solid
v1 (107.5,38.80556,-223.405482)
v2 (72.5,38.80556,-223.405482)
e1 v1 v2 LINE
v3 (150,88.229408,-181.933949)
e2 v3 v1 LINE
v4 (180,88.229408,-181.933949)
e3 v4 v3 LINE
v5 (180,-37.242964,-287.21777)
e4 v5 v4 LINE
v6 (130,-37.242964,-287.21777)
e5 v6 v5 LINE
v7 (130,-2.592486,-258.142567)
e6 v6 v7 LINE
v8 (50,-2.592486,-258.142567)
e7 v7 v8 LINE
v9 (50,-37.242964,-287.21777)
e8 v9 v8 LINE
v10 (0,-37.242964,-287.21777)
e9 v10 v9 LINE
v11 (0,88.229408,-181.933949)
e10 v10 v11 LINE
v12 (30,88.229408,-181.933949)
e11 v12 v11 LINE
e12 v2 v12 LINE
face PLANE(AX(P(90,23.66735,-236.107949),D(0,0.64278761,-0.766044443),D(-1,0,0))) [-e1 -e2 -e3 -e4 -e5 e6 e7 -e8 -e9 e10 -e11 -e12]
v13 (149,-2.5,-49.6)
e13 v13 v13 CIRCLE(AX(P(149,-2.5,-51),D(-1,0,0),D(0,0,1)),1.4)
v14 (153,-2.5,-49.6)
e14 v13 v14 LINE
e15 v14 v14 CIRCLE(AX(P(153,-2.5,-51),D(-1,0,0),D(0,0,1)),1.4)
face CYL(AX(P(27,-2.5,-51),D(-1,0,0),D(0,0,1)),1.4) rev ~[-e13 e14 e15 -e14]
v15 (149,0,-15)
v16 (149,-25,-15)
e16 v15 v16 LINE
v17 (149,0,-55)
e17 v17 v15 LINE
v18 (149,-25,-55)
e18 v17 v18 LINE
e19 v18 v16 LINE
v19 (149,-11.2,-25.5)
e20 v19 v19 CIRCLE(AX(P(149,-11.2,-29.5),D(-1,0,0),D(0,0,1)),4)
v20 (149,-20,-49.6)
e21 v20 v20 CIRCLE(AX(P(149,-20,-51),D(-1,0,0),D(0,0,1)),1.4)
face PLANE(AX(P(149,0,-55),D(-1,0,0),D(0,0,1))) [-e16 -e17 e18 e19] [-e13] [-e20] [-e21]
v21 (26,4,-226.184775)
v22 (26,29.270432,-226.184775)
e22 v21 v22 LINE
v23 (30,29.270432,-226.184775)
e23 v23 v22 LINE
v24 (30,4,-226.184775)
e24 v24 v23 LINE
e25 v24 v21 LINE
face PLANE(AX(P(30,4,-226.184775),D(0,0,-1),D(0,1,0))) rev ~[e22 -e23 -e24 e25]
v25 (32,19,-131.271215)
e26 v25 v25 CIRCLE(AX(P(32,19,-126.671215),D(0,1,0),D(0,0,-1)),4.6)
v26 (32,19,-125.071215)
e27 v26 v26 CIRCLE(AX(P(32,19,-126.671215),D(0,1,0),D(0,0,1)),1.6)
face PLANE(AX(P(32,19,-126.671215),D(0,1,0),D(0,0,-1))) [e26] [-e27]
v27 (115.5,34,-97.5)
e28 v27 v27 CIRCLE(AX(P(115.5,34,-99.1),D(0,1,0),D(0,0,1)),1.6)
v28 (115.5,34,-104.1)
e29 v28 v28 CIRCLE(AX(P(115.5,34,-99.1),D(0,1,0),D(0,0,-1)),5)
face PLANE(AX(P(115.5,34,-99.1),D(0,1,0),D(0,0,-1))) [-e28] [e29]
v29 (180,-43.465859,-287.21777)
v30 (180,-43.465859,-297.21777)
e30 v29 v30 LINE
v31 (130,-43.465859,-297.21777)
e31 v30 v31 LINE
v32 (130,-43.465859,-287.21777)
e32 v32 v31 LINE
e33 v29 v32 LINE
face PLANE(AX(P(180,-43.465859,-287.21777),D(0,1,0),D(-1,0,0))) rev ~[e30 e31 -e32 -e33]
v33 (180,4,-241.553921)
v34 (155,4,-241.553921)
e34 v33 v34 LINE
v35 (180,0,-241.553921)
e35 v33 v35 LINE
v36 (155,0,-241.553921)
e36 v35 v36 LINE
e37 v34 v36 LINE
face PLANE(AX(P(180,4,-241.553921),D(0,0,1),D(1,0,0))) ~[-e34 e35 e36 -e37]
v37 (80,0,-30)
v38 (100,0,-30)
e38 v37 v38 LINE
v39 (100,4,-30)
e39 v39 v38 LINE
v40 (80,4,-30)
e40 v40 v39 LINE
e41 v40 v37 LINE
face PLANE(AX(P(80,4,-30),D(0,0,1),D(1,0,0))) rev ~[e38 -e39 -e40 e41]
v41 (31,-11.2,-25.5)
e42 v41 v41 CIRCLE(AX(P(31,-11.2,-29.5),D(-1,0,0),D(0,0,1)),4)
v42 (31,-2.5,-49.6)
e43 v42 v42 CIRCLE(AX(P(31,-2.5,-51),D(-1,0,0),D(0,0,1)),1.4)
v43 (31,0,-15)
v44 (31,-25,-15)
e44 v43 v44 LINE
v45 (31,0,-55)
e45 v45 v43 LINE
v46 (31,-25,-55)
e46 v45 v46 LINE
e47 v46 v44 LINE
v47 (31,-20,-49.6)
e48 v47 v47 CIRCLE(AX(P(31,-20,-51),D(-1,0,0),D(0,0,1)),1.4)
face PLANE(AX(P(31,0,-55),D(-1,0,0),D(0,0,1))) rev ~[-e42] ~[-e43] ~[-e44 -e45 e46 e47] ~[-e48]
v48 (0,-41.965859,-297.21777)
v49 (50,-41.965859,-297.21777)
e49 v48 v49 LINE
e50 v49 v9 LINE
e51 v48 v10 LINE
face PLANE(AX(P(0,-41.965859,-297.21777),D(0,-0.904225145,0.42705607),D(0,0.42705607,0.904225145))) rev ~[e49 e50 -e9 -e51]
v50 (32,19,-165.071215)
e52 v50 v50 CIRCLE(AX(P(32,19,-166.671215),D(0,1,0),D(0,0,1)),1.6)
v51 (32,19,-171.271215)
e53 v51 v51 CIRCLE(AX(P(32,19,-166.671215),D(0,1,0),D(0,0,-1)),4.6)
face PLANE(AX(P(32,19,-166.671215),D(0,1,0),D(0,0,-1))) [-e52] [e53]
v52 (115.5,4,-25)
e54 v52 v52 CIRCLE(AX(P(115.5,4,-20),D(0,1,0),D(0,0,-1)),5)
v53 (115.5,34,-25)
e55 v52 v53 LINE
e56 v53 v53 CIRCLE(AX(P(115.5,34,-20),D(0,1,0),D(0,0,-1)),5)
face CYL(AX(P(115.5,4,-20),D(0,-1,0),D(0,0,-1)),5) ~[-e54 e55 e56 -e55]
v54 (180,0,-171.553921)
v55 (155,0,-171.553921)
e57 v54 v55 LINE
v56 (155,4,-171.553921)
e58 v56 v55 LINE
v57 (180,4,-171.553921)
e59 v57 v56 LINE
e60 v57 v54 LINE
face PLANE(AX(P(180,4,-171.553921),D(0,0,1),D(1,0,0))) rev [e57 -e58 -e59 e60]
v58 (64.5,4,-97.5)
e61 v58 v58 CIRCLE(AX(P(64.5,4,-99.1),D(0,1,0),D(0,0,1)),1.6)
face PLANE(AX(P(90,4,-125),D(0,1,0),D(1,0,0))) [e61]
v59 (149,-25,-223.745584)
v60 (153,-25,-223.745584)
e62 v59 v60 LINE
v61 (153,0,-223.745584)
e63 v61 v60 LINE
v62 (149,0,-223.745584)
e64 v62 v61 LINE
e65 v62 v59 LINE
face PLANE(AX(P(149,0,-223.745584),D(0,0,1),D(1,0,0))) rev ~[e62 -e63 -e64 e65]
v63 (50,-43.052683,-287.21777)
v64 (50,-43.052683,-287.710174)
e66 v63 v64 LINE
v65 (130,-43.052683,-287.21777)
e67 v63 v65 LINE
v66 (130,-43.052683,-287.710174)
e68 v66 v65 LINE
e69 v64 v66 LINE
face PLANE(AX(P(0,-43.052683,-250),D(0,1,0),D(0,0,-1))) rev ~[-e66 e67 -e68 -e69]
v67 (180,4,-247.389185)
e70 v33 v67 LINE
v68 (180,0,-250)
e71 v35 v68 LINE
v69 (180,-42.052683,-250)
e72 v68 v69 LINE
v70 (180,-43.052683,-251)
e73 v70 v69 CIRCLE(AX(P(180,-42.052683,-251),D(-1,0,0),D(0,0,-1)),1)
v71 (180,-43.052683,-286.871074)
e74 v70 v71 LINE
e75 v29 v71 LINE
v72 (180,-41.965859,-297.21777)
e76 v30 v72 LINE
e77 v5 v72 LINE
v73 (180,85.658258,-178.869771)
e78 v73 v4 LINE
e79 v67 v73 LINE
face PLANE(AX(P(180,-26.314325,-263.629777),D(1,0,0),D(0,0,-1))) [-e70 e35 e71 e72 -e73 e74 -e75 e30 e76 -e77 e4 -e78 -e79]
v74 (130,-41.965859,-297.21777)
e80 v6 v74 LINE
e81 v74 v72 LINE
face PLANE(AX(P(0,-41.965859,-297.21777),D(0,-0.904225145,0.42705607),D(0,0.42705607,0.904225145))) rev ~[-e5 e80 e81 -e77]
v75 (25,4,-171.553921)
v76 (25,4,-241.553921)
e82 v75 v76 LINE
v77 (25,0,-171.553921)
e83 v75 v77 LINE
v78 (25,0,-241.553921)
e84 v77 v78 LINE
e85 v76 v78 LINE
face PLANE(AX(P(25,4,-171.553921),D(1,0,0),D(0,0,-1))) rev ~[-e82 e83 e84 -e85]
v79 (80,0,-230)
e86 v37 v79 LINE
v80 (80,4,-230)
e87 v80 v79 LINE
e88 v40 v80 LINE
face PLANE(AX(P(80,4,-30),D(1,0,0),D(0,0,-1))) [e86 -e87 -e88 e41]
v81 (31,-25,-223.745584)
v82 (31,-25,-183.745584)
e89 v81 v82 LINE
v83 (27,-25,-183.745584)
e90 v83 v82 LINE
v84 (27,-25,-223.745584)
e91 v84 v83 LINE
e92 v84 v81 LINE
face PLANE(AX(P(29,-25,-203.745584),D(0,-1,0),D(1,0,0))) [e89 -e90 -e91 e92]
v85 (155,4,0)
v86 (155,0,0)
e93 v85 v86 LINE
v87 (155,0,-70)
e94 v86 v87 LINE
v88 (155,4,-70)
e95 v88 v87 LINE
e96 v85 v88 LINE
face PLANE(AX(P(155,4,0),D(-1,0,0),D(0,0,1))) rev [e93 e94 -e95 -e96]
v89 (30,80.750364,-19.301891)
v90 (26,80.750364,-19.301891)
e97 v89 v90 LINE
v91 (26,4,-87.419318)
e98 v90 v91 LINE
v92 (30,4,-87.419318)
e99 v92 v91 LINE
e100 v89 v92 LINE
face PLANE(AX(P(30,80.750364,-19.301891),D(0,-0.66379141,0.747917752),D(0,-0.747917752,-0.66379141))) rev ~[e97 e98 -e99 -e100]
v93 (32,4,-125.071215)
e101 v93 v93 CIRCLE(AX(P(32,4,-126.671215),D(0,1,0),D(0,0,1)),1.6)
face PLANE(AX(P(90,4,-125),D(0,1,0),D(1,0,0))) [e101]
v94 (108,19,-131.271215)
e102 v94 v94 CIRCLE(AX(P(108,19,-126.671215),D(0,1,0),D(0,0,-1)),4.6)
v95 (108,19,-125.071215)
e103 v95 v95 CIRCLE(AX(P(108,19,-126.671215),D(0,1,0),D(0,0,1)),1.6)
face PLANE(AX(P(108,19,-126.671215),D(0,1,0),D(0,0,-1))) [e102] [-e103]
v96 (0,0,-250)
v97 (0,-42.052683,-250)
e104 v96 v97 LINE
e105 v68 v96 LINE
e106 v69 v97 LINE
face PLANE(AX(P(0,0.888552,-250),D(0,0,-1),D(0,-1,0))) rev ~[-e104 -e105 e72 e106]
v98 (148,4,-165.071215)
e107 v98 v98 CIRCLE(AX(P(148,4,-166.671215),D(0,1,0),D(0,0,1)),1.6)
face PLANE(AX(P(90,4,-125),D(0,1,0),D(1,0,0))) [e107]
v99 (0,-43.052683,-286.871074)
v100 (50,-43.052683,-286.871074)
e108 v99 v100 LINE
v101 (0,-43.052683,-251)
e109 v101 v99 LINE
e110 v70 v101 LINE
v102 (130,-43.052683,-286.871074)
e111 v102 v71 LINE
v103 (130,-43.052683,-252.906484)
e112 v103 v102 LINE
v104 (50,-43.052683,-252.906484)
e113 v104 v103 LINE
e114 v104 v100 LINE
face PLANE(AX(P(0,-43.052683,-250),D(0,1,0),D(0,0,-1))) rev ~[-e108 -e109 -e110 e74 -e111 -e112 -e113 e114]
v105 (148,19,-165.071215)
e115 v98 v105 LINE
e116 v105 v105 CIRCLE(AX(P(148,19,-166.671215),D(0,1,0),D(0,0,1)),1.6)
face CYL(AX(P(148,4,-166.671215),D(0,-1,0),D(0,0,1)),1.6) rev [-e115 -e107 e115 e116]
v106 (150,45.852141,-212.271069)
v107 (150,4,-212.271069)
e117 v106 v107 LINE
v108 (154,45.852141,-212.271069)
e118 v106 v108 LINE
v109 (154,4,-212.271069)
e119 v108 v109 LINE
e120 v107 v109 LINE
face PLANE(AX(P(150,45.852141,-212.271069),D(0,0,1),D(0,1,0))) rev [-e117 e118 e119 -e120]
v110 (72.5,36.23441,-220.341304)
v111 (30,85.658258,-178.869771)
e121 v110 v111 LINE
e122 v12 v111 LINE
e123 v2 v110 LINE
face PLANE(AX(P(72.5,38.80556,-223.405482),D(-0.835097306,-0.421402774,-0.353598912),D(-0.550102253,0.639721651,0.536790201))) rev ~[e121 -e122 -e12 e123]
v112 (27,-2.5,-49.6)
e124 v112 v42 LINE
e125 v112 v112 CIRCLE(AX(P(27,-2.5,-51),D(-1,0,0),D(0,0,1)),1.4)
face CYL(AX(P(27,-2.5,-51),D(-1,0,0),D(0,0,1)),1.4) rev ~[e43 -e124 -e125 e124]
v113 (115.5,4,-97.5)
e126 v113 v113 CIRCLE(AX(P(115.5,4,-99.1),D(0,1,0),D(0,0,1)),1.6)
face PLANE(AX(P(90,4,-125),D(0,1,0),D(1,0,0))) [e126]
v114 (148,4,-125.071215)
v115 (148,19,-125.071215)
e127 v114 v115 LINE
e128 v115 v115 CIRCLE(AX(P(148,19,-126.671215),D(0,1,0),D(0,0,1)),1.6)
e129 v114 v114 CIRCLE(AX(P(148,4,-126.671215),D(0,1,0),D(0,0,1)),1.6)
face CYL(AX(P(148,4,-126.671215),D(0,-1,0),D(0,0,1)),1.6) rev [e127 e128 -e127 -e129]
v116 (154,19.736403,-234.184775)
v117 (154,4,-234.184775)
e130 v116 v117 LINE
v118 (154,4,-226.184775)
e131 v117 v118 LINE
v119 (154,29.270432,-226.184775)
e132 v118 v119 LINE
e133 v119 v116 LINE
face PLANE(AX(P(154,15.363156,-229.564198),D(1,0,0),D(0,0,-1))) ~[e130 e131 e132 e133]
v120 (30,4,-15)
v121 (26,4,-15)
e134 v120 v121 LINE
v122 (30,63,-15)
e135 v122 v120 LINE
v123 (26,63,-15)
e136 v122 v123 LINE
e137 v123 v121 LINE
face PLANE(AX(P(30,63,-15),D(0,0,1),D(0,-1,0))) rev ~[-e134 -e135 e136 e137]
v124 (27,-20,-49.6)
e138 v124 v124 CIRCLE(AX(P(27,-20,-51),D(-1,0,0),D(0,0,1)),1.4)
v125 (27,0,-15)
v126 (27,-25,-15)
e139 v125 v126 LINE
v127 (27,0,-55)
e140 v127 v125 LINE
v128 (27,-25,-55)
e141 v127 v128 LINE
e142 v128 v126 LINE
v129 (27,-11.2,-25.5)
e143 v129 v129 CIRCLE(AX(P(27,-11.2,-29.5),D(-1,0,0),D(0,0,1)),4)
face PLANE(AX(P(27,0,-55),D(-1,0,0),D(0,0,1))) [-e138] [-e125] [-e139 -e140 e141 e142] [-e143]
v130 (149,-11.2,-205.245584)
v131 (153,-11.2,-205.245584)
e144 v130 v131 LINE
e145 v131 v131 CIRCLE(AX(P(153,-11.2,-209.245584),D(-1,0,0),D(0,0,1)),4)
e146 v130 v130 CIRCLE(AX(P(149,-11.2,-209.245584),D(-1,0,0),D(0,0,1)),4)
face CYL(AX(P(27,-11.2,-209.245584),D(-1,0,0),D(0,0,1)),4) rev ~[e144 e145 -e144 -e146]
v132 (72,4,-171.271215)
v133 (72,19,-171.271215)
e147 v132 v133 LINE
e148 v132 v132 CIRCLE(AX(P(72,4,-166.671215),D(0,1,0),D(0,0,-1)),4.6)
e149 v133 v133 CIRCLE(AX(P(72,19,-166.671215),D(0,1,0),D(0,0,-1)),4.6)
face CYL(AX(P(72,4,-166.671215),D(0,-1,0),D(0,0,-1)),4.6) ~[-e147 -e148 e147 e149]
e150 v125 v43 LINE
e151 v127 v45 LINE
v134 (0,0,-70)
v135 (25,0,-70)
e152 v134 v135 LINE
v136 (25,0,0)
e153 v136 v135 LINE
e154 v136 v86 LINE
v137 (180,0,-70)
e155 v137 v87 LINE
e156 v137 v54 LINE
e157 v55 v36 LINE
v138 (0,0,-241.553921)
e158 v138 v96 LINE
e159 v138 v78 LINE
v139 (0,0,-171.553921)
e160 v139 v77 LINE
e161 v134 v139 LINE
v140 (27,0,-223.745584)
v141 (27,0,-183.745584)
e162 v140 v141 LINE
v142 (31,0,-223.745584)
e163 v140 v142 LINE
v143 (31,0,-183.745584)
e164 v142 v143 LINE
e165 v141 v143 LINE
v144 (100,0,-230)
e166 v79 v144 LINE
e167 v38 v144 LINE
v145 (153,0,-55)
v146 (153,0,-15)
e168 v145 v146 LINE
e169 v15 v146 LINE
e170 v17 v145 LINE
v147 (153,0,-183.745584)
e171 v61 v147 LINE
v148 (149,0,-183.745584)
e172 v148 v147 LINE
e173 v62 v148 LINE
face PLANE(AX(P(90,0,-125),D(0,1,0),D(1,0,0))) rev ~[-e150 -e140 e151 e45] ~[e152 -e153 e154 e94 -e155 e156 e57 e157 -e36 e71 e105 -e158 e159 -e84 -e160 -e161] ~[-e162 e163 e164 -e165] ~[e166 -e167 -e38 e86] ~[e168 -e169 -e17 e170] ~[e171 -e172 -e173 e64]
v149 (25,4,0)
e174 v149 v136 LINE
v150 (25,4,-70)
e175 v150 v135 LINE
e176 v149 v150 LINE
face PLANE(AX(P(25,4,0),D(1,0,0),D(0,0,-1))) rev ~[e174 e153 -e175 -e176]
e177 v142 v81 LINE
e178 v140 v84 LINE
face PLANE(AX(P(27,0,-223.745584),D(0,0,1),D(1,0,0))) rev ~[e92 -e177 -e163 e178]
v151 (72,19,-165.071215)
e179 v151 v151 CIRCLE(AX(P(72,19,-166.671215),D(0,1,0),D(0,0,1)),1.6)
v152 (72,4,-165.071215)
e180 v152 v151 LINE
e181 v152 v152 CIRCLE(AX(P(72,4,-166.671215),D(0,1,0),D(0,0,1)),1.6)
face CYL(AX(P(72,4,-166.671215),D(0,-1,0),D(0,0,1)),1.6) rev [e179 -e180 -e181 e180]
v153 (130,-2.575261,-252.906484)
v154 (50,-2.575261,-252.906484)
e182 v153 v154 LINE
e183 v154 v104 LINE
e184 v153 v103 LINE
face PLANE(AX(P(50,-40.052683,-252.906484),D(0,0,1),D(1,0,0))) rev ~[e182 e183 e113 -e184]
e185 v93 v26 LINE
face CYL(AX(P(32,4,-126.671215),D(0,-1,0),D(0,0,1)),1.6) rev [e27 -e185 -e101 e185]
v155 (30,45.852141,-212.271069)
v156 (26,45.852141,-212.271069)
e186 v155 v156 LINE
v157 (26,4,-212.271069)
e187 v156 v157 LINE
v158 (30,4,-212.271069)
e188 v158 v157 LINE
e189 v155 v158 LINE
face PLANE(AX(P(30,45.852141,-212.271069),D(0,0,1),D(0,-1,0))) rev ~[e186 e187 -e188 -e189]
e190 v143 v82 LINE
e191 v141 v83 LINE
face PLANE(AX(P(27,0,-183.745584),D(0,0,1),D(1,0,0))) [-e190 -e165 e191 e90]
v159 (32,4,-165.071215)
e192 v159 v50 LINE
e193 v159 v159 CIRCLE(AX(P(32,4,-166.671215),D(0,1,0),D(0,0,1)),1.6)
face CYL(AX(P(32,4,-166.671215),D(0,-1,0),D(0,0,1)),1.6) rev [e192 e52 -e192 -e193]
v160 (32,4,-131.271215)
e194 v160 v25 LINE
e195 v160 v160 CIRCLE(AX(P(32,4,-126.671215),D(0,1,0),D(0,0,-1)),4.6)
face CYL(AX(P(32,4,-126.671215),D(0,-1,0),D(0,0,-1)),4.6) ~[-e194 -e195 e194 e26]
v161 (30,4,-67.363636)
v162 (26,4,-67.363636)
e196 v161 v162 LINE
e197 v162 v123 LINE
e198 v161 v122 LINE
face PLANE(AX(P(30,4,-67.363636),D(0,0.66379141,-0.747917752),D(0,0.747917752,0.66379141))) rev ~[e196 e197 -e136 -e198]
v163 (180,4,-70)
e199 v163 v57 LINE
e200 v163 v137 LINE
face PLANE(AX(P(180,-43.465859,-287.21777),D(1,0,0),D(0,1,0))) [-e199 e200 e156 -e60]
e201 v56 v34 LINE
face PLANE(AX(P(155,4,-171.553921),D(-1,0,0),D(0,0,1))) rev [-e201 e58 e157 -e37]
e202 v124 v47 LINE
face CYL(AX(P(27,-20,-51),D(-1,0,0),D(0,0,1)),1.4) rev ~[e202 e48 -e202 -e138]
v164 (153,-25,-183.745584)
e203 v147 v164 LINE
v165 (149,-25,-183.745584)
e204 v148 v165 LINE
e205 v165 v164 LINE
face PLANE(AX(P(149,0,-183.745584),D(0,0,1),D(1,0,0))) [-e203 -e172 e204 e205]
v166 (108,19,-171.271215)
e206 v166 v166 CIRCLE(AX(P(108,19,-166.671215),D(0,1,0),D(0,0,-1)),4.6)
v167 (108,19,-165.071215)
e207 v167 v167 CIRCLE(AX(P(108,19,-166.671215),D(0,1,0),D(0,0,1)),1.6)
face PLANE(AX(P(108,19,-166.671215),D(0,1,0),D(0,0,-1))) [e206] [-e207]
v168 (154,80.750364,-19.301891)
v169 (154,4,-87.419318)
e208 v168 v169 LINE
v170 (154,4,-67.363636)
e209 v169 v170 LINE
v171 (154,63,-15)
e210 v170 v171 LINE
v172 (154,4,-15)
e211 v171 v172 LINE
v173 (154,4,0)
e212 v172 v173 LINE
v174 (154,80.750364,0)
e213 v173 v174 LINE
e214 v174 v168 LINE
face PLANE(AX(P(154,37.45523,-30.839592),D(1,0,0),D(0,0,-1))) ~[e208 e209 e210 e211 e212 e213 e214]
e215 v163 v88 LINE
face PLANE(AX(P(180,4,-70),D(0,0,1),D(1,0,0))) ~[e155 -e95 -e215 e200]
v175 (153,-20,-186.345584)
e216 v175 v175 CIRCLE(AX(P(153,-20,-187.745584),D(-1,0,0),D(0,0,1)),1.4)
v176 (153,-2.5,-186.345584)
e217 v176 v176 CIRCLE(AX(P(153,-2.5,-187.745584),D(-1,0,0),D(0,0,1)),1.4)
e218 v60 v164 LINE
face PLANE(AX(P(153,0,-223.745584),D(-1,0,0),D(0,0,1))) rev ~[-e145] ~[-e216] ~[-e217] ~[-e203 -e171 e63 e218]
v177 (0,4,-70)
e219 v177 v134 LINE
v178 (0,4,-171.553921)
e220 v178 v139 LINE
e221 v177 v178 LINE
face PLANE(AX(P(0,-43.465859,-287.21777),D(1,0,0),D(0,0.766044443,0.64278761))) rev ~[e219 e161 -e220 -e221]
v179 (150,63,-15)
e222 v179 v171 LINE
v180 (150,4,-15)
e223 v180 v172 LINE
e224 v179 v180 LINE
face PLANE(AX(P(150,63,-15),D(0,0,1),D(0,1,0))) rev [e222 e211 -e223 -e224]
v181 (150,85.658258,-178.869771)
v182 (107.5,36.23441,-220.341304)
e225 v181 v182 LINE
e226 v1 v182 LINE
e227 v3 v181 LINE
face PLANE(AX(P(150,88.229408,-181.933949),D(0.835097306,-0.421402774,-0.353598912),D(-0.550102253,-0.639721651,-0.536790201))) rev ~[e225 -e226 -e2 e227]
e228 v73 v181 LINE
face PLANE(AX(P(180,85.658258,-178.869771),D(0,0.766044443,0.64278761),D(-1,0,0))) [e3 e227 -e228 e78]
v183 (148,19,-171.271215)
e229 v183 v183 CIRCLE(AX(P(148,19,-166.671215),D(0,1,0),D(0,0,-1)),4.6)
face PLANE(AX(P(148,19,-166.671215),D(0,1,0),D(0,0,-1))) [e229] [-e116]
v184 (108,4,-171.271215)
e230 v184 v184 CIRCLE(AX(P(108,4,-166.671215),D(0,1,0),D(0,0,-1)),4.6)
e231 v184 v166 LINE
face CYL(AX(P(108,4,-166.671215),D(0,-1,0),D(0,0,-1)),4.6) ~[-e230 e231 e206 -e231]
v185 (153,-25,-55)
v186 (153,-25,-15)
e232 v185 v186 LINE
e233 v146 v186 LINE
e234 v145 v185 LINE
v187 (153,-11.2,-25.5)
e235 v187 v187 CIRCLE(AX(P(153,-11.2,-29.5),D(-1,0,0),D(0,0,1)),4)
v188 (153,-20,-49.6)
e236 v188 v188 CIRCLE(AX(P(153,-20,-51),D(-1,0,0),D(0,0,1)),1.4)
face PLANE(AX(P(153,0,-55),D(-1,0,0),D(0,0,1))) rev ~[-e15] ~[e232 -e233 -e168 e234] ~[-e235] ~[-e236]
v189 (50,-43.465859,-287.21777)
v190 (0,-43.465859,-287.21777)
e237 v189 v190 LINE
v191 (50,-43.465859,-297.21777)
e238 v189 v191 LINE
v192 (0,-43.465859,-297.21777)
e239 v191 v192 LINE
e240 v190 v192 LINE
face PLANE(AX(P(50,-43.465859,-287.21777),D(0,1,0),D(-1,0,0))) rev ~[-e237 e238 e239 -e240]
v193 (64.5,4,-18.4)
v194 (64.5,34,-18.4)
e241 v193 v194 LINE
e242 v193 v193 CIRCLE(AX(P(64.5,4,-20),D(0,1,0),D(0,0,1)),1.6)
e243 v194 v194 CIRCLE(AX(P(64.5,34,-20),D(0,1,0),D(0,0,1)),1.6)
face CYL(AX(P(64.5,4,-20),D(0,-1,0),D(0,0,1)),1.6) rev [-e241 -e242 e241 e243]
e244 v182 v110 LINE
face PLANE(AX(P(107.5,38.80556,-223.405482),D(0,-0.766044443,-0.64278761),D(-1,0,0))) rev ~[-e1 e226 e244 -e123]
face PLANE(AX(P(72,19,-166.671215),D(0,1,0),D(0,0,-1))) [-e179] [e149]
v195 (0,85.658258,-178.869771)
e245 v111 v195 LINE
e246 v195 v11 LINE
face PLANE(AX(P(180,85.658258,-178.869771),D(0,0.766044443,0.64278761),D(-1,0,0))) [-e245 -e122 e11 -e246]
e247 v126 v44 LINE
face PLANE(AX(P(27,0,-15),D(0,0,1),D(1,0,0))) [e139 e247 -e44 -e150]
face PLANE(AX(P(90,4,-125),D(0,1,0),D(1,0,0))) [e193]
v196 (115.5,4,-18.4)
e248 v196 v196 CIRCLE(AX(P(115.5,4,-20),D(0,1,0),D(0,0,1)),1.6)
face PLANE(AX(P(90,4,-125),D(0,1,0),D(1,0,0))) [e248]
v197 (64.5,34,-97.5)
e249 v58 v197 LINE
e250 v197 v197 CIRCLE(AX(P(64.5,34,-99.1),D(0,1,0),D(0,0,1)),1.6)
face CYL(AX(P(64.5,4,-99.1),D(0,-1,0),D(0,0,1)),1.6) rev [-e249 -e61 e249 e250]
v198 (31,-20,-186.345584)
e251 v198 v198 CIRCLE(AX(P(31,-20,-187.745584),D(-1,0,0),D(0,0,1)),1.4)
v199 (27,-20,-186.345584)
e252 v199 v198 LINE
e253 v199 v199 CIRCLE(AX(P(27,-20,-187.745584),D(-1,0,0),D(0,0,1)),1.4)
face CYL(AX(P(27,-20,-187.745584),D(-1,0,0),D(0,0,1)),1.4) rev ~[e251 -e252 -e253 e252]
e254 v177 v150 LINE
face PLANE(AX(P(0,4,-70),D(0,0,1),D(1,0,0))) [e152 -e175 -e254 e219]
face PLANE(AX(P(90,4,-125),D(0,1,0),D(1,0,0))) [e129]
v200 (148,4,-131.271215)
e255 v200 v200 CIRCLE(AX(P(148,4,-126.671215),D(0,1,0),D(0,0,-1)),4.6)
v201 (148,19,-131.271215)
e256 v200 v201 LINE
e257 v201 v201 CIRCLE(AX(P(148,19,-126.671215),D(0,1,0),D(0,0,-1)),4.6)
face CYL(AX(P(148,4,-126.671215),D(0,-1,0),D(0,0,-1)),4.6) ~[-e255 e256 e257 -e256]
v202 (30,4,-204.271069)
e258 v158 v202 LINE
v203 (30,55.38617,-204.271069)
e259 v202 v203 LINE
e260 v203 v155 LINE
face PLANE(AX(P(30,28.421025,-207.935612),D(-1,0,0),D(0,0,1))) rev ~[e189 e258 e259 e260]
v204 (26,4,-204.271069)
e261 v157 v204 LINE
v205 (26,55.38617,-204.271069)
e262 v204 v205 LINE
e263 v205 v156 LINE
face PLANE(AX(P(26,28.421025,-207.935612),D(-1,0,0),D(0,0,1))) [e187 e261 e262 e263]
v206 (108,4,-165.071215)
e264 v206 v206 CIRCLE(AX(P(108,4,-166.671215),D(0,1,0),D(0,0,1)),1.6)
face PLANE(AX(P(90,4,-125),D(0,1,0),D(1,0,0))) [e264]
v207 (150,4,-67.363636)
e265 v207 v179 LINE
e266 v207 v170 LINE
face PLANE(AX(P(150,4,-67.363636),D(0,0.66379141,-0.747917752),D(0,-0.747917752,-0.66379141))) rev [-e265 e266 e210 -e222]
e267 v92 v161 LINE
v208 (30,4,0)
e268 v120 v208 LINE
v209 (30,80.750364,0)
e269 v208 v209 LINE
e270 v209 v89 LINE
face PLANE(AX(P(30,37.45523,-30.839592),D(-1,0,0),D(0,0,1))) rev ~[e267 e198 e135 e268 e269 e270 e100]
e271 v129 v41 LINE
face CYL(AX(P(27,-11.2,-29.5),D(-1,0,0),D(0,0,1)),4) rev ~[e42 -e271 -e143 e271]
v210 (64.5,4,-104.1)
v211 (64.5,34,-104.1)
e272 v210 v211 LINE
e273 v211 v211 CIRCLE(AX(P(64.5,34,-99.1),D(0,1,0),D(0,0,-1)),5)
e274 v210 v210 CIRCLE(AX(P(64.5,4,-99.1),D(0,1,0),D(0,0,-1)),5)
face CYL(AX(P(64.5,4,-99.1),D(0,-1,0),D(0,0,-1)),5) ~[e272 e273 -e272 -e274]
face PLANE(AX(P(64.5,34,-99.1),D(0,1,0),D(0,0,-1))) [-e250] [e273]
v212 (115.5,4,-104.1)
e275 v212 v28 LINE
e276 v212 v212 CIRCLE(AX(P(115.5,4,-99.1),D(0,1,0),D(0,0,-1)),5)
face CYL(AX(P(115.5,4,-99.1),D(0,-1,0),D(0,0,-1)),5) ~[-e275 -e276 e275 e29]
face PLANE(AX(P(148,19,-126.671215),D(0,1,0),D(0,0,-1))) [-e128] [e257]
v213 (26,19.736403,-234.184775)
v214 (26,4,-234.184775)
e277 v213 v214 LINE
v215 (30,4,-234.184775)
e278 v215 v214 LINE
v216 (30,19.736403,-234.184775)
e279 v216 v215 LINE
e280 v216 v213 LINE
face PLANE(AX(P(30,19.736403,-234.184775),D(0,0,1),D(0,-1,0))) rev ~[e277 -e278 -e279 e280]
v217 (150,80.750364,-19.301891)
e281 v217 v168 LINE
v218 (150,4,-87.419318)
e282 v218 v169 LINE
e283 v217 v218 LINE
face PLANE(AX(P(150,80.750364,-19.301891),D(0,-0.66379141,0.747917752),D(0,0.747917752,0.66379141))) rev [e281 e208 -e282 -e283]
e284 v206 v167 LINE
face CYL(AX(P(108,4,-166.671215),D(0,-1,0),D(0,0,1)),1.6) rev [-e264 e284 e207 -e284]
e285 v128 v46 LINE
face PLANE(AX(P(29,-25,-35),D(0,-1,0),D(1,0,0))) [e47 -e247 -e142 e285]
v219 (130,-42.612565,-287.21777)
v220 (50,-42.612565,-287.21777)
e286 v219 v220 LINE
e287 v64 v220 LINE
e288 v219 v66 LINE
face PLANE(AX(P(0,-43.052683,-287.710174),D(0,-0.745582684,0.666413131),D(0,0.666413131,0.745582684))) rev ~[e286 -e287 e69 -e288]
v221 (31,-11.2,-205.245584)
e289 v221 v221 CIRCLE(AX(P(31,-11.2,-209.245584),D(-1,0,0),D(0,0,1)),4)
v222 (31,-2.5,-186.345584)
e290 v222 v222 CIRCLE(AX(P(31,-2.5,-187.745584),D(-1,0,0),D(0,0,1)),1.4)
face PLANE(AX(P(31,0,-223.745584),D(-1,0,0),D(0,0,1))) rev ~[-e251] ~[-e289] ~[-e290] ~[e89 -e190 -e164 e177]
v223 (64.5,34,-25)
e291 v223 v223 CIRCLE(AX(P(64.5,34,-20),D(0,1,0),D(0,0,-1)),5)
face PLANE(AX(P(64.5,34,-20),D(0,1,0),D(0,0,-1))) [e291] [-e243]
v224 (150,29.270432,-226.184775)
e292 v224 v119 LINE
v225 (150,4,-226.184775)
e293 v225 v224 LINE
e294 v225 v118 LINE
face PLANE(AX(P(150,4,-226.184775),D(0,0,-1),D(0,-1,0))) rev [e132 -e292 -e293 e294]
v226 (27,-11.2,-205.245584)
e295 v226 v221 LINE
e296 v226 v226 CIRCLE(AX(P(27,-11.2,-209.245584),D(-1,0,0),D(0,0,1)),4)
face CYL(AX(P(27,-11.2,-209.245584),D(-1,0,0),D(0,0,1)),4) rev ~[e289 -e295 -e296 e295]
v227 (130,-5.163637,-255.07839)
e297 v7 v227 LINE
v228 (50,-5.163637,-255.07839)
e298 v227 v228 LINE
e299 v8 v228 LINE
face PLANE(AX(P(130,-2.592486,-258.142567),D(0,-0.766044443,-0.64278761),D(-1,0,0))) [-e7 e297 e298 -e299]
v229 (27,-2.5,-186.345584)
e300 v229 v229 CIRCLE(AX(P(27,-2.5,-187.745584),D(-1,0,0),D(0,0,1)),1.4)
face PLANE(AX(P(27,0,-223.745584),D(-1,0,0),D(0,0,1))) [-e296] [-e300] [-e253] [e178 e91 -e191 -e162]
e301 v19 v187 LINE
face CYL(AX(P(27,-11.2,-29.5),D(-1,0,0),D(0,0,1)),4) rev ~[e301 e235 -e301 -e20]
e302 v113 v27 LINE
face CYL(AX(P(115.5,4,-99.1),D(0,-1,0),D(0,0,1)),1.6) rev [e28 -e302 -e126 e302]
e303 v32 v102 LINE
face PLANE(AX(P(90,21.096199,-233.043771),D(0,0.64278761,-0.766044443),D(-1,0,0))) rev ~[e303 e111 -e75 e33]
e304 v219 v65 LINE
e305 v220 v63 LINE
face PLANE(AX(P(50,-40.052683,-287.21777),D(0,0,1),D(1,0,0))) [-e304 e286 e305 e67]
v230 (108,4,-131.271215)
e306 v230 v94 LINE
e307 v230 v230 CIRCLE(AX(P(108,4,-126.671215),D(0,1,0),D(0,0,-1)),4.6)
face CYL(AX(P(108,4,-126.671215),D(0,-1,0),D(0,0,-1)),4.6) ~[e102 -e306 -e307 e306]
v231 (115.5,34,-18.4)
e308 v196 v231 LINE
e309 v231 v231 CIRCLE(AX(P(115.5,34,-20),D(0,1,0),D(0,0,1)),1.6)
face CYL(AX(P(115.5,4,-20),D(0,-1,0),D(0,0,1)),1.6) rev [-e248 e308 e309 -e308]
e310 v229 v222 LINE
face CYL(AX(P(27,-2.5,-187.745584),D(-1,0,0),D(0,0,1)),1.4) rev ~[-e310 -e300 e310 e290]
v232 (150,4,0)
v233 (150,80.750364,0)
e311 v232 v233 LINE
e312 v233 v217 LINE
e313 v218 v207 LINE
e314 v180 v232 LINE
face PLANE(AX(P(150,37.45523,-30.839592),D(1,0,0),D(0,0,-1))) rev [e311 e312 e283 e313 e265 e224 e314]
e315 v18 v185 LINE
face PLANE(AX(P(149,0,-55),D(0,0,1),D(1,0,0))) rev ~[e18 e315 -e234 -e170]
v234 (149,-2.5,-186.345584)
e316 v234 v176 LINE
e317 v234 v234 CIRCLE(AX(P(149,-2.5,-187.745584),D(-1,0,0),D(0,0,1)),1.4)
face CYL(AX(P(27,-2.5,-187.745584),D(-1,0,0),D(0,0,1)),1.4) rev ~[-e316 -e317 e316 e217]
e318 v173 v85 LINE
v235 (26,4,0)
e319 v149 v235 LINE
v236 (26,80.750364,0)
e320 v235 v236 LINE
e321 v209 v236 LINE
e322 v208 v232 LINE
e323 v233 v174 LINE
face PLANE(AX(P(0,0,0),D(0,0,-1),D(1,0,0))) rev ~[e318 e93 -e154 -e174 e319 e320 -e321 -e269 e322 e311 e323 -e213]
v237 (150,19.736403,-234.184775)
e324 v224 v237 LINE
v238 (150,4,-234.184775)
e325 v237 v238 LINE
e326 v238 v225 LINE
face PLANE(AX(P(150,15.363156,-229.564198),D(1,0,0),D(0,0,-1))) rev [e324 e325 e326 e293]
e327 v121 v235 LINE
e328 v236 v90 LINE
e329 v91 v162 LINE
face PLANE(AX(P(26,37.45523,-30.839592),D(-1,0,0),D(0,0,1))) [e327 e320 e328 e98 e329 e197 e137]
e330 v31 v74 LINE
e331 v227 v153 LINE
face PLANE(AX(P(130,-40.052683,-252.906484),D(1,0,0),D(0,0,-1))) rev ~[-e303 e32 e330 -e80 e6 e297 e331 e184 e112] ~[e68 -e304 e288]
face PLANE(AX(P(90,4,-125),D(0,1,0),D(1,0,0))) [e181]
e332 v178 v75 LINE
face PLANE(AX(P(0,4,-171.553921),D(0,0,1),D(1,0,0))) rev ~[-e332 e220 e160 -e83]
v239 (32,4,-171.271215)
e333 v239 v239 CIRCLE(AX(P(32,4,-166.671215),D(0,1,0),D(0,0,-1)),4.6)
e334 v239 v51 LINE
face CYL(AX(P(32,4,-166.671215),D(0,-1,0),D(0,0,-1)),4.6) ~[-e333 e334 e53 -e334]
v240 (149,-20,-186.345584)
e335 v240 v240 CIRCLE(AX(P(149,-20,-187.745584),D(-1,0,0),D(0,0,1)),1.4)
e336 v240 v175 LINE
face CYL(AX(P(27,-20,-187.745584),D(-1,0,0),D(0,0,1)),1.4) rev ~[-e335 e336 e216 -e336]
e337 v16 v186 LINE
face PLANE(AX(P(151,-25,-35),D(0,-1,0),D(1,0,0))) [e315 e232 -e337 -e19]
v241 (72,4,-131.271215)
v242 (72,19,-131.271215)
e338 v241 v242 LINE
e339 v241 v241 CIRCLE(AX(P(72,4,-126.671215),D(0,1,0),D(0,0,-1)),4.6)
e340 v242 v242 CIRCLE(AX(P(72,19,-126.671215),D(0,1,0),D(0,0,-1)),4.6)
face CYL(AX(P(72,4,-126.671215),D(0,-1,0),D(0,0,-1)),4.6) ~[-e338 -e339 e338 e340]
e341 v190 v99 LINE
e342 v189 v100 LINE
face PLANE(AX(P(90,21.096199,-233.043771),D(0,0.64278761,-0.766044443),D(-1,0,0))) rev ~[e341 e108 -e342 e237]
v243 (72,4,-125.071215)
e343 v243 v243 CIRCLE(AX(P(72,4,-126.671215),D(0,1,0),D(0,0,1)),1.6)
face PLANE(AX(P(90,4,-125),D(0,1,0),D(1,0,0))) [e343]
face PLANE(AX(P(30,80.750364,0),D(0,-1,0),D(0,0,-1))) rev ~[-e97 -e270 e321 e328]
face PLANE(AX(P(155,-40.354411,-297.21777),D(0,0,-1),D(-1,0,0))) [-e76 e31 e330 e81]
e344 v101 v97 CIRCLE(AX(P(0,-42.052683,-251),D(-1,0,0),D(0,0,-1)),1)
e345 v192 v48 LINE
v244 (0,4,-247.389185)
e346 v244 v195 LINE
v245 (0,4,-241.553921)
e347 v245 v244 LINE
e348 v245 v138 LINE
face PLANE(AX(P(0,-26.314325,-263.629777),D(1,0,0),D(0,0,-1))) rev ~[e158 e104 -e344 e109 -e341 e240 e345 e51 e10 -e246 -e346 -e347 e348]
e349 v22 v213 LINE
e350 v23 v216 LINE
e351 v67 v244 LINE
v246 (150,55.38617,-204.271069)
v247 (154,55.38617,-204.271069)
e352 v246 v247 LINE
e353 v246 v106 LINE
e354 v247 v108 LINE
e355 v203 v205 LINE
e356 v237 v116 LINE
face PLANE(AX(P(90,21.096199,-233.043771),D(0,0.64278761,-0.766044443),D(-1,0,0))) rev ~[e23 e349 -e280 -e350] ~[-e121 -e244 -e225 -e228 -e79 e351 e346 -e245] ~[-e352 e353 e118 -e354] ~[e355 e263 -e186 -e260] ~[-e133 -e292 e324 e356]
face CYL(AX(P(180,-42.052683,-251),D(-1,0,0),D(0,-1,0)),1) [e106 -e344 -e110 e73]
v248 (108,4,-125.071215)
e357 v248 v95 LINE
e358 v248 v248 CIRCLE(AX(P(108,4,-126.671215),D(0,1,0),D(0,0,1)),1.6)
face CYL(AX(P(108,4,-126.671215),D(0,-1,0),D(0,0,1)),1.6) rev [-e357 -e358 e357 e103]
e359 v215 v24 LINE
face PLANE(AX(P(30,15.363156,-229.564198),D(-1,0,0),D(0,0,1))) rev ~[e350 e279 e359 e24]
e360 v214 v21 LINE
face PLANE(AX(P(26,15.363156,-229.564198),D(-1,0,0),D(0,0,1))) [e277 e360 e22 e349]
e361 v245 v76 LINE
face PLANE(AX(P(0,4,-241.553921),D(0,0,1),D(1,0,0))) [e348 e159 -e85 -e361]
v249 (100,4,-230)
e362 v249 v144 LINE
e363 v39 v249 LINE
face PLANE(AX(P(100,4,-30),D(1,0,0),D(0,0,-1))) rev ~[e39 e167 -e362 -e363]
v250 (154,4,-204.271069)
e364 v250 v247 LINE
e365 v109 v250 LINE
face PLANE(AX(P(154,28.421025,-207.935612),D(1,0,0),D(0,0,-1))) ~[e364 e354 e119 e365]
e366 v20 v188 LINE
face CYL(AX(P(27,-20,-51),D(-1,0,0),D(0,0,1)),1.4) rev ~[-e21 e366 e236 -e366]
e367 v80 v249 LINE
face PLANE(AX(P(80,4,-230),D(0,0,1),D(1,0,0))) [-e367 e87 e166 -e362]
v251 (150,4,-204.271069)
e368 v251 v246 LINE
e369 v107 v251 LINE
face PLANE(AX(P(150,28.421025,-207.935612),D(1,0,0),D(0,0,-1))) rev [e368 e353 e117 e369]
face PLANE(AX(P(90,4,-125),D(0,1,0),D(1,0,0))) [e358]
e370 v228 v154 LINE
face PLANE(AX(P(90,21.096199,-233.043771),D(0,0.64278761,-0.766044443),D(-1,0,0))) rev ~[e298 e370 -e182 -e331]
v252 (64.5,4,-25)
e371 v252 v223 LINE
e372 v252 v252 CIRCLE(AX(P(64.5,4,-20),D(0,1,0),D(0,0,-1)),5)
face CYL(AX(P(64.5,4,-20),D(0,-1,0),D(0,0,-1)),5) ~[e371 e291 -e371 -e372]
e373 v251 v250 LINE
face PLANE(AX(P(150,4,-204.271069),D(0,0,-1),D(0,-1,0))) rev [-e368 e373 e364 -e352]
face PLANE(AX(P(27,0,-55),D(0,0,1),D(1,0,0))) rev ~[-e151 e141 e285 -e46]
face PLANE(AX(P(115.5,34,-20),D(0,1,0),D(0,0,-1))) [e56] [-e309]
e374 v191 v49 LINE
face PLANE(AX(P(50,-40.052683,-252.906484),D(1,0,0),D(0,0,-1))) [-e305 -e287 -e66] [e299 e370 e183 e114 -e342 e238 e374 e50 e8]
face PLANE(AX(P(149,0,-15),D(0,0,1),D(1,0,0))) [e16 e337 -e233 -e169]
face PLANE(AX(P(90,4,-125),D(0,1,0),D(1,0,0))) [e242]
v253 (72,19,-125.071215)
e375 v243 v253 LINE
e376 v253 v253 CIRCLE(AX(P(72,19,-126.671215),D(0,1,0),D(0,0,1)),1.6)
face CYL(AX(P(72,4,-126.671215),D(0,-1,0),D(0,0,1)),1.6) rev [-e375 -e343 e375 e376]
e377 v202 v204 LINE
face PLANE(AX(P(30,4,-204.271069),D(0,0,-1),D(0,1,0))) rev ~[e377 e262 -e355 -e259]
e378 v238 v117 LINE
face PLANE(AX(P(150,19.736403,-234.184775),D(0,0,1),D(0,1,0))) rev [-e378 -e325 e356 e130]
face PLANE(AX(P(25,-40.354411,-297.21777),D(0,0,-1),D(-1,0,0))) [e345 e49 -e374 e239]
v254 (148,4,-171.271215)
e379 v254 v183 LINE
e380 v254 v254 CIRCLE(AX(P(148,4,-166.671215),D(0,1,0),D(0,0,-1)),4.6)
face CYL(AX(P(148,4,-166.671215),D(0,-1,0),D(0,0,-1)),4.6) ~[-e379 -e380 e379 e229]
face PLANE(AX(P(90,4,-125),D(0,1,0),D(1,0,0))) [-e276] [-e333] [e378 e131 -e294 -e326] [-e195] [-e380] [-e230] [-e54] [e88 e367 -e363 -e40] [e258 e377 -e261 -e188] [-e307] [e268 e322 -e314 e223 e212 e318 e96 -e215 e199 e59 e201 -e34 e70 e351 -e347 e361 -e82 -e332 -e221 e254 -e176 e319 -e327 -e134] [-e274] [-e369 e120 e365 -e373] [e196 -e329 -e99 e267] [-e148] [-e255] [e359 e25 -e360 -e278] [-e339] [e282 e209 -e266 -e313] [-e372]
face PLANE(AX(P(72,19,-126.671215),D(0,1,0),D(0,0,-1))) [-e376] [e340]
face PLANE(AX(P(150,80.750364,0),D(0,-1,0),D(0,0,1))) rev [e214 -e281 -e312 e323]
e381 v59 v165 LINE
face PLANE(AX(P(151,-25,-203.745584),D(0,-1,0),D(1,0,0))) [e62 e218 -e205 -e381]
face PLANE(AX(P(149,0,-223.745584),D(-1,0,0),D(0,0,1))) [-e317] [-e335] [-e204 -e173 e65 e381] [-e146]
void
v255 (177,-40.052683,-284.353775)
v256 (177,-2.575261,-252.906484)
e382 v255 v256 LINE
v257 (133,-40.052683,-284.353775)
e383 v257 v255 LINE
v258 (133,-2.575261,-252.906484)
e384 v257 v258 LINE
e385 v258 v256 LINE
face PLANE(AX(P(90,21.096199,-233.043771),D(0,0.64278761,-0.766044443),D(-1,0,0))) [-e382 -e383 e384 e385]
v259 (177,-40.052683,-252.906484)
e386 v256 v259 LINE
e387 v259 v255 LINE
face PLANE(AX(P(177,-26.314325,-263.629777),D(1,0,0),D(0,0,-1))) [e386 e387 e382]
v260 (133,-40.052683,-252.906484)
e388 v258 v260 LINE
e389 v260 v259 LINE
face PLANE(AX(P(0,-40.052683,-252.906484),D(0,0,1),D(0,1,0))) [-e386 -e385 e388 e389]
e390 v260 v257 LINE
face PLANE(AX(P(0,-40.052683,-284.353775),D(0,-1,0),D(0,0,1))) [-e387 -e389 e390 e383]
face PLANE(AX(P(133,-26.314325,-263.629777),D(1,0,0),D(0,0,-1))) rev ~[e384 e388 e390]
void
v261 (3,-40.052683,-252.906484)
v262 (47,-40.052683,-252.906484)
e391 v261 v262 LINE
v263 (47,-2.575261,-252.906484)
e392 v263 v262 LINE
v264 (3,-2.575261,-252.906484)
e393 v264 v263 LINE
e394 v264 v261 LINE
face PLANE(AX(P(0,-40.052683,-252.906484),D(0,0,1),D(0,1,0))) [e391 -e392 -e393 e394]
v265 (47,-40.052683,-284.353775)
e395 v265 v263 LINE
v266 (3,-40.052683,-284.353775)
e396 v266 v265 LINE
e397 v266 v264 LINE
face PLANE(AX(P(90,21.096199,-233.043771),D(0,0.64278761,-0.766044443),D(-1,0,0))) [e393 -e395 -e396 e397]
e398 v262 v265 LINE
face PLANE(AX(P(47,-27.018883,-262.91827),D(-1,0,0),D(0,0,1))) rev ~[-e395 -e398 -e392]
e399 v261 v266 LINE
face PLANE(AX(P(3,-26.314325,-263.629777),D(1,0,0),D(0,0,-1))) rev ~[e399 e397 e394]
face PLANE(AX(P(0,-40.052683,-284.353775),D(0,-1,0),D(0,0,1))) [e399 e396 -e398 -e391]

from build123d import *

# Parameters (mm, degrees)
SKETCH1_W            = 180
SKETCH1_H            = 250
BOSS_EXTRUDE1_DEPTH  = 4
SKETCH3_W            = 180
SKETCH3_H            = 7.078404721
CUT_EXTRUDE1_DEPTH   = 2
SKETCH4_W            = 180
SKETCH4_H            = 168.5595632
BOSS_EXTRUDE3_DEPTH  = 4
CUT_EXTRUDE2_DEPTH   = 214
SKETCH6_W            = 4
SKETCH6_H            = 40
BOSS_EXTRUDE4_DEPTH  = 25
SKETCH7_W            = 80
SKETCH7_H            = 50
CUT_EXTRUDE3_DEPTH   = 5
SKETCH8_R            = 1.4
CUT_EXTRUDE4_DEPTH   = 155
SKETCH10_W           = 50
SKETCH10_H           = 6.222895308
BOSS_EXTRUDE5_DEPTH  = 10
CUT_EXTRUDE5_DEPTH   = 199
SKETCH12_W           = 20
SKETCH12_H           = 200
CUT_EXTRUDE6_DEPTH   = 5
SKETCH13_R           = 5
SKETCH13_R_2         = 1.6
BOSS_EXTRUDE6_DEPTH  = 30
SKETCH14_R           = 4.6
SKETCH14_R_2         = 1.6
BOSS_EXTRUDE7_DEPTH  = 15
BOSS_EXTRUDE8_DEPTH  = 4
BOSS_EXTRUDE9_DEPTH  = 4
SKETCH17_W           = 25
SKETCH17_H           = 70
CUT_EXTRUDE8_DEPTH   = 19
SKETCH18_R           = 4
CUT_EXTRUDE9_DEPTH   = 145
BOSS_EXTRUDE10_DEPTH = 180
SKETCH27_W           = 80
SKETCH27_H           = 3.378884896
BOSS_EXTRUDE17_DEPTH = 3
BOSS_EXTRUDE13_DEPTH = 3
BOSS_EXTRUDE14_DEPTH = 3
BOSS_EXTRUDE15_DEPTH = 3
BOSS_EXTRUDE16_DEPTH = 3
FILLET1_R            = 1
SKETCH28_W           = 80
SKETCH28_H           = 34.31128583
CUT_EXTRUDE14_DEPTH  = 3


with BuildPart() as part:
    # Sketch1 → Boss-Extrude1 (new body)
    with BuildSketch(Plane(origin=(0, 0, 0), x_dir=(1, 0, 0), z_dir=(0, 1, 0))):
        with Locations((90, 125)):
            Rectangle(SKETCH1_W, SKETCH1_H)
    extrude(amount=BOSS_EXTRUDE1_DEPTH)

    # Sketch3 → Cut-Extrude1 (cut)
    with BuildSketch(Plane(origin=(0, 124.753672771, -148.675637714), x_dir=(-1, 0, 0), z_dir=(0, 0.6427876096865376, -0.7660444431189795))):
        with Locations((-90, -157.157700062)):
            Rectangle(SKETCH3_W, SKETCH3_H)
    extrude(amount=-CUT_EXTRUDE1_DEPTH, mode=Mode.SUBTRACT)

    # Sketch4 → Boss-Extrude3 (add)
    with BuildSketch(Plane(origin=(0, 123.468097552, -147.143548828), x_dir=(-1, 0, 0), z_dir=(0, 0.6427876096865368, -0.7660444431189802))):
        with Locations((-90, -133.637022031)):
            Rectangle(SKETCH4_W, SKETCH4_H)
    extrude(amount=BOSS_EXTRUDE3_DEPTH)

    # Sketch5 → Cut-Extrude2 (cut)
    with BuildSketch(Plane.ZY):
        Polygon((-287.217770145, -43.465858932), (-287.217770145, -37.242963624), (-290.281947917, -40.894708493), align=None)
    extrude(amount=-CUT_EXTRUDE2_DEPTH, mode=Mode.SUBTRACT)

    # Sketch6 → Boss-Extrude4 (add)
    with BuildSketch(Plane.XZ):
        with Locations((29, -203.745583946)):
            Rectangle(SKETCH6_W, SKETCH6_H)
        with Locations((29, -35)):
            Rectangle(SKETCH6_W, SKETCH6_H)
        with Locations((151, -203.745583946)):
            Rectangle(SKETCH6_W, SKETCH6_H)
        with Locations((151, -35)):
            Rectangle(SKETCH6_W, SKETCH6_H)
    extrude(amount=BOSS_EXTRUDE4_DEPTH)

    # Sketch7 → Cut-Extrude3 (cut)
    with BuildSketch(Plane(origin=(0, 126.039247991, -150.207726601), x_dir=(-1, 0, 0), z_dir=(0, 0.6427876096865365, -0.7660444431189805))):
        with Locations((-90, -192.916803631)):
            Rectangle(SKETCH7_W, SKETCH7_H)
        Polygon((-150, -49.357240431), (-107.5, -113.87549192), (-72.5, -113.87549192), (-30, -49.357240431), align=None)
    extrude(amount=-CUT_EXTRUDE3_DEPTH, mode=Mode.SUBTRACT)

    # Sketch8 → Cut-Extrude4 (cut)
    with BuildSketch(Plane.ZY.offset(-27)):
        with Locations((-187.745583946, -2.5)):
            Circle(SKETCH8_R)
        with Locations((-187.745583946, -20)):
            Circle(SKETCH8_R)
        with Locations((-51, -2.5)):
            Circle(SKETCH8_R)
        with Locations((-51, -20)):
            Circle(SKETCH8_R)
    extrude(amount=-CUT_EXTRUDE4_DEPTH, mode=Mode.SUBTRACT)

    # Sketch10 → Boss-Extrude5 (add)
    with BuildSketch(Plane(origin=(0, 0, -287.217770145), x_dir=(-1, 0, 0), z_dir=(0, 0, -1))):
        with Locations((-155, -40.354411278)):
            Rectangle(SKETCH10_W, SKETCH10_H)
        with Locations((-25, -40.354411278)):
            Rectangle(SKETCH10_W, SKETCH10_H)
    extrude(amount=BOSS_EXTRUDE5_DEPTH)

    # Sketch11 → Cut-Extrude5 (cut)
    with BuildSketch(Plane.ZY):
        Polygon((-297.217770145, -41.965858932), (-287.217770145, -37.242963624), (-297.217770145, -37.242963624), align=None)
    extrude(amount=-CUT_EXTRUDE5_DEPTH, mode=Mode.SUBTRACT)

    # Sketch12 → Cut-Extrude6 (cut)
    with BuildSketch(Plane(origin=(0, 4, 0), x_dir=(1, 0, 0), z_dir=(0, 1, 0))):
        with Locations((90, 130)):
            Rectangle(SKETCH12_W, SKETCH12_H)
    extrude(amount=-CUT_EXTRUDE6_DEPTH, mode=Mode.SUBTRACT)

    # Sketch13 → Boss-Extrude6 (add)
    # profile 1 of 4: a face of its own
    with BuildSketch(Plane(origin=(0, 4, 0), x_dir=(1, 0, 0), z_dir=(0, 1, 0))):
        with Locations(Location((64.5, 99.1, 0), (0, 0, 90))):
            Circle(SKETCH13_R)
        with Locations(Location((64.5, 99.1, 0), (0, 0, 270))):
            Circle(SKETCH13_R_2, mode=Mode.SUBTRACT)
    # profile 2 of 4: a face of its own
    with BuildSketch(Plane(origin=(0, 4, 0), x_dir=(1, 0, 0), z_dir=(0, 1, 0))):
        with Locations(Location((115.5, 99.1, 0), (0, 0, 90))):
            Circle(SKETCH13_R)
        with Locations(Location((115.5, 99.1, 0), (0, 0, 270))):
            Circle(SKETCH13_R_2, mode=Mode.SUBTRACT)
    # profile 3 of 4: a face of its own
    with BuildSketch(Plane(origin=(0, 4, 0), x_dir=(1, 0, 0), z_dir=(0, 1, 0))):
        with Locations(Location((115.5, 20, 0), (0, 0, 90))):
            Circle(SKETCH13_R)
        with Locations(Location((115.5, 20, 0), (0, 0, 270))):
            Circle(SKETCH13_R_2, mode=Mode.SUBTRACT)
    # profile 4 of 4: a face of its own
    with BuildSketch(Plane(origin=(0, 4, 0), x_dir=(1, 0, 0), z_dir=(0, 1, 0))):
        with Locations(Location((64.5, 20, 0), (0, 0, 90))):
            Circle(SKETCH13_R)
        with Locations(Location((64.5, 20, 0), (0, 0, 270))):
            Circle(SKETCH13_R_2, mode=Mode.SUBTRACT)
    extrude(amount=BOSS_EXTRUDE6_DEPTH)

    # Sketch14 → Boss-Extrude7 (add)
    # profile 1 of 8: a face of its own
    with BuildSketch(Plane(origin=(0, 4, 0), x_dir=(1, 0, 0), z_dir=(0, 1, 0))):
        with Locations(Location((32, 166.671215293, 0), (0, 0, 90))):
            Circle(SKETCH14_R)
        with Locations(Location((32, 166.671215293, 0), (0, 0, 270))):
            Circle(SKETCH14_R_2, mode=Mode.SUBTRACT)
    # profile 2 of 8: a face of its own
    with BuildSketch(Plane(origin=(0, 4, 0), x_dir=(1, 0, 0), z_dir=(0, 1, 0))):
        with Locations(Location((72, 166.671215293, 0), (0, 0, 90))):
            Circle(SKETCH14_R)
        with Locations(Location((72, 166.671215293, 0), (0, 0, 270))):
            Circle(SKETCH14_R_2, mode=Mode.SUBTRACT)
    # profile 3 of 8: a face of its own
    with BuildSketch(Plane(origin=(0, 4, 0), x_dir=(1, 0, 0), z_dir=(0, 1, 0))):
        with Locations(Location((72, 126.671215293, 0), (0, 0, 90))):
            Circle(SKETCH14_R)
        with Locations(Location((72, 126.671215293, 0), (0, 0, 270))):
            Circle(SKETCH14_R_2, mode=Mode.SUBTRACT)
    # profile 4 of 8: a face of its own
    with BuildSketch(Plane(origin=(0, 4, 0), x_dir=(1, 0, 0), z_dir=(0, 1, 0))):
        with Locations(Location((32, 126.671215293, 0), (0, 0, 90))):
            Circle(SKETCH14_R)
        with Locations(Location((32, 126.671215293, 0), (0, 0, 270))):
            Circle(SKETCH14_R_2, mode=Mode.SUBTRACT)
    # profile 5 of 8: a face of its own
    with BuildSketch(Plane(origin=(0, 4, 0), x_dir=(1, 0, 0), z_dir=(0, 1, 0))):
        with Locations(Location((108, 166.671215293, 0), (0, 0, 90))):
            Circle(SKETCH14_R)
        with Locations(Location((108, 166.671215293, 0), (0, 0, 270))):
            Circle(SKETCH14_R_2, mode=Mode.SUBTRACT)
    # profile 6 of 8: a face of its own
    with BuildSketch(Plane(origin=(0, 4, 0), x_dir=(1, 0, 0), z_dir=(0, 1, 0))):
        with Locations(Location((148, 166.671215293, 0), (0, 0, 90))):
            Circle(SKETCH14_R)
        with Locations(Location((148, 166.671215293, 0), (0, 0, 270))):
            Circle(SKETCH14_R_2, mode=Mode.SUBTRACT)
    # profile 7 of 8: a face of its own
    with BuildSketch(Plane(origin=(0, 4, 0), x_dir=(1, 0, 0), z_dir=(0, 1, 0))):
        with Locations(Location((148, 126.671215293, 0), (0, 0, 90))):
            Circle(SKETCH14_R)
        with Locations(Location((148, 126.671215293, 0), (0, 0, 270))):
            Circle(SKETCH14_R_2, mode=Mode.SUBTRACT)
    # profile 8 of 8: a face of its own
    with BuildSketch(Plane(origin=(0, 4, 0), x_dir=(1, 0, 0), z_dir=(0, 1, 0))):
        with Locations(Location((108, 126.671215293, 0), (0, 0, 90))):
            Circle(SKETCH14_R)
        with Locations(Location((108, 126.671215293, 0), (0, 0, 270))):
            Circle(SKETCH14_R_2, mode=Mode.SUBTRACT)
    extrude(amount=BOSS_EXTRUDE7_DEPTH)

    # Sketch15 → Boss-Extrude8 (add)
    with BuildSketch(Plane.ZY.offset(-30)):
        Polygon((0, 4), (0, 80.750364276), (-19.301891028, 80.750364276), (-87.419317565, 4), (-67.363636364, 4), (-15, 63), (-15, 4), align=None)
    boss_extrude8 = extrude(amount=BOSS_EXTRUDE8_DEPTH)

    # Mirror1: Boss-Extrude8 across plane
    add(boss_extrude8.mirror(Plane(origin=(90, 0, 0), x_dir=(0, 0, 1), z_dir=(1, 0, 0))))

    # Sketch16 → Boss-Extrude9 (add)
    with BuildSketch(Plane.ZY.offset(-30)):
        Polygon((-212.271069219, 45.852141149), (-212.271069219, 4), (-204.271069219, 4), (-204.271069219, 55.38616989), align=None)
        Polygon((-234.18477544, 19.736403034), (-234.18477544, 4), (-226.18477544, 4), (-226.18477544, 29.270431775), align=None)
    boss_extrude9 = extrude(amount=BOSS_EXTRUDE9_DEPTH)

    # Mirror2: Boss-Extrude9 across plane
    add(boss_extrude9.mirror(Plane(origin=(90, 0, 0), x_dir=(0, 0, 1), z_dir=(1, 0, 0))))

    # Sketch17 → Cut-Extrude8 (cut)
    with BuildSketch(Plane(origin=(0, 4, 0), x_dir=(1, 0, 0), z_dir=(0, 1, 0))):
        with Locations((12.5, 35)):
            Rectangle(SKETCH17_W, SKETCH17_H)
        with Locations((12.5, 206.553921427)):
            Rectangle(SKETCH17_W, SKETCH17_H)
    cut_extrude8 = extrude(amount=-CUT_EXTRUDE8_DEPTH, mode=Mode.SUBTRACT)

    # Sketch18 → Cut-Extrude9 (cut)
    with BuildSketch(Plane.ZY.offset(-27)):
        with Locations((-29.5, -11.2)):
            Circle(SKETCH18_R)
        with Locations((-209.245583946, -11.2)):
            Circle(SKETCH18_R)
    extrude(amount=-CUT_EXTRUDE9_DEPTH, mode=Mode.SUBTRACT)

    # Mirror3: Cut-Extrude8 across plane
    add(cut_extrude8.mirror(Plane(origin=(90, 0, 0), x_dir=(0, 0, 1), z_dir=(1, 0, 0))), mode=Mode.SUBTRACT)



with BuildPart() as body_2:
    # Sketch19 → Boss-Extrude10 (new body)
    with BuildSketch(Plane.ZY):
        Polygon((-250, 0.888552346), (-250, -43.052683021), (-287.710174021, -43.052683021), (-284.353775496, -40.052683021), (-252.906484315, -40.052683021), (-252.906484315, -2.575260778), align=None)
    extrude(amount=-BOSS_EXTRUDE10_DEPTH)


with BuildPart() as part_1:
    add(part.part)

    add(body_2.part)  # Boss-Extrude17 merges body 2
    # Sketch27 → Boss-Extrude17 (add)
    with BuildSketch(Plane(origin=(0, 123.468097552, -147.143548828), x_dir=(-1, 0, 0), z_dir=(0, 0.6427876096865226, -0.766044443118992))):
        with Locations((-90, -166.227361183)):
            Rectangle(SKETCH27_W, SKETCH27_H)
    extrude(amount=BOSS_EXTRUDE17_DEPTH)

    # Sketch23 → Boss-Extrude13 (add)
    with BuildSketch(Plane(origin=(50, 0, 0), x_dir=(0, 0, -1), z_dir=(1, 0, 0))):
        Polygon((250, 0.888552346), (287.710174021, -43.052683021), (250, -43.052683021), align=None)
    extrude(amount=-BOSS_EXTRUDE13_DEPTH)

    # Sketch24 → Boss-Extrude14 (add)
    with BuildSketch(Plane.ZY.offset(-130)):
        Polygon((-252.906484315, -2.575260778), (-252.906484315, -40.052683021), (-284.353775496, -40.052683021), align=None)
    extrude(amount=-BOSS_EXTRUDE14_DEPTH)

    # Sketch25 → Boss-Extrude15 (add)
    with BuildSketch(Plane.ZY):
        Polygon((-252.906484315, -2.575260778), (-252.906484315, -40.052683021), (-284.353775496, -40.052683021), align=None)
    extrude(amount=-BOSS_EXTRUDE15_DEPTH)

    # Sketch26 → Boss-Extrude16 (add)
    with BuildSketch(Plane(origin=(180, 0, 0), x_dir=(0, 0, -1), z_dir=(1, 0, 0))):
        Polygon((252.906484315, -2.575260778), (252.906484315, -40.052683021), (284.353775496, -40.052683021), align=None)
    extrude(amount=-BOSS_EXTRUDE16_DEPTH)

    # Fillet1
    fillet1_edges = [part_1.edges().sort_by_distance(p)[0] for p in [
        (90, -43.052683021, -250),
    ]]
    fillet(fillet1_edges, radius=FILLET1_R)

    # Sketch28 → Cut-Extrude14 (cut)
    with BuildSketch(Plane(origin=(0, -40.052683021, 0), x_dir=(1, 0, 0), z_dir=(0, 1, 0))):
        with Locations((90, 270.06212723)):
            Rectangle(SKETCH28_W, SKETCH28_H)
    extrude(amount=-CUT_EXTRUDE14_DEPTH, mode=Mode.SUBTRACT)


solid = part_1.part
